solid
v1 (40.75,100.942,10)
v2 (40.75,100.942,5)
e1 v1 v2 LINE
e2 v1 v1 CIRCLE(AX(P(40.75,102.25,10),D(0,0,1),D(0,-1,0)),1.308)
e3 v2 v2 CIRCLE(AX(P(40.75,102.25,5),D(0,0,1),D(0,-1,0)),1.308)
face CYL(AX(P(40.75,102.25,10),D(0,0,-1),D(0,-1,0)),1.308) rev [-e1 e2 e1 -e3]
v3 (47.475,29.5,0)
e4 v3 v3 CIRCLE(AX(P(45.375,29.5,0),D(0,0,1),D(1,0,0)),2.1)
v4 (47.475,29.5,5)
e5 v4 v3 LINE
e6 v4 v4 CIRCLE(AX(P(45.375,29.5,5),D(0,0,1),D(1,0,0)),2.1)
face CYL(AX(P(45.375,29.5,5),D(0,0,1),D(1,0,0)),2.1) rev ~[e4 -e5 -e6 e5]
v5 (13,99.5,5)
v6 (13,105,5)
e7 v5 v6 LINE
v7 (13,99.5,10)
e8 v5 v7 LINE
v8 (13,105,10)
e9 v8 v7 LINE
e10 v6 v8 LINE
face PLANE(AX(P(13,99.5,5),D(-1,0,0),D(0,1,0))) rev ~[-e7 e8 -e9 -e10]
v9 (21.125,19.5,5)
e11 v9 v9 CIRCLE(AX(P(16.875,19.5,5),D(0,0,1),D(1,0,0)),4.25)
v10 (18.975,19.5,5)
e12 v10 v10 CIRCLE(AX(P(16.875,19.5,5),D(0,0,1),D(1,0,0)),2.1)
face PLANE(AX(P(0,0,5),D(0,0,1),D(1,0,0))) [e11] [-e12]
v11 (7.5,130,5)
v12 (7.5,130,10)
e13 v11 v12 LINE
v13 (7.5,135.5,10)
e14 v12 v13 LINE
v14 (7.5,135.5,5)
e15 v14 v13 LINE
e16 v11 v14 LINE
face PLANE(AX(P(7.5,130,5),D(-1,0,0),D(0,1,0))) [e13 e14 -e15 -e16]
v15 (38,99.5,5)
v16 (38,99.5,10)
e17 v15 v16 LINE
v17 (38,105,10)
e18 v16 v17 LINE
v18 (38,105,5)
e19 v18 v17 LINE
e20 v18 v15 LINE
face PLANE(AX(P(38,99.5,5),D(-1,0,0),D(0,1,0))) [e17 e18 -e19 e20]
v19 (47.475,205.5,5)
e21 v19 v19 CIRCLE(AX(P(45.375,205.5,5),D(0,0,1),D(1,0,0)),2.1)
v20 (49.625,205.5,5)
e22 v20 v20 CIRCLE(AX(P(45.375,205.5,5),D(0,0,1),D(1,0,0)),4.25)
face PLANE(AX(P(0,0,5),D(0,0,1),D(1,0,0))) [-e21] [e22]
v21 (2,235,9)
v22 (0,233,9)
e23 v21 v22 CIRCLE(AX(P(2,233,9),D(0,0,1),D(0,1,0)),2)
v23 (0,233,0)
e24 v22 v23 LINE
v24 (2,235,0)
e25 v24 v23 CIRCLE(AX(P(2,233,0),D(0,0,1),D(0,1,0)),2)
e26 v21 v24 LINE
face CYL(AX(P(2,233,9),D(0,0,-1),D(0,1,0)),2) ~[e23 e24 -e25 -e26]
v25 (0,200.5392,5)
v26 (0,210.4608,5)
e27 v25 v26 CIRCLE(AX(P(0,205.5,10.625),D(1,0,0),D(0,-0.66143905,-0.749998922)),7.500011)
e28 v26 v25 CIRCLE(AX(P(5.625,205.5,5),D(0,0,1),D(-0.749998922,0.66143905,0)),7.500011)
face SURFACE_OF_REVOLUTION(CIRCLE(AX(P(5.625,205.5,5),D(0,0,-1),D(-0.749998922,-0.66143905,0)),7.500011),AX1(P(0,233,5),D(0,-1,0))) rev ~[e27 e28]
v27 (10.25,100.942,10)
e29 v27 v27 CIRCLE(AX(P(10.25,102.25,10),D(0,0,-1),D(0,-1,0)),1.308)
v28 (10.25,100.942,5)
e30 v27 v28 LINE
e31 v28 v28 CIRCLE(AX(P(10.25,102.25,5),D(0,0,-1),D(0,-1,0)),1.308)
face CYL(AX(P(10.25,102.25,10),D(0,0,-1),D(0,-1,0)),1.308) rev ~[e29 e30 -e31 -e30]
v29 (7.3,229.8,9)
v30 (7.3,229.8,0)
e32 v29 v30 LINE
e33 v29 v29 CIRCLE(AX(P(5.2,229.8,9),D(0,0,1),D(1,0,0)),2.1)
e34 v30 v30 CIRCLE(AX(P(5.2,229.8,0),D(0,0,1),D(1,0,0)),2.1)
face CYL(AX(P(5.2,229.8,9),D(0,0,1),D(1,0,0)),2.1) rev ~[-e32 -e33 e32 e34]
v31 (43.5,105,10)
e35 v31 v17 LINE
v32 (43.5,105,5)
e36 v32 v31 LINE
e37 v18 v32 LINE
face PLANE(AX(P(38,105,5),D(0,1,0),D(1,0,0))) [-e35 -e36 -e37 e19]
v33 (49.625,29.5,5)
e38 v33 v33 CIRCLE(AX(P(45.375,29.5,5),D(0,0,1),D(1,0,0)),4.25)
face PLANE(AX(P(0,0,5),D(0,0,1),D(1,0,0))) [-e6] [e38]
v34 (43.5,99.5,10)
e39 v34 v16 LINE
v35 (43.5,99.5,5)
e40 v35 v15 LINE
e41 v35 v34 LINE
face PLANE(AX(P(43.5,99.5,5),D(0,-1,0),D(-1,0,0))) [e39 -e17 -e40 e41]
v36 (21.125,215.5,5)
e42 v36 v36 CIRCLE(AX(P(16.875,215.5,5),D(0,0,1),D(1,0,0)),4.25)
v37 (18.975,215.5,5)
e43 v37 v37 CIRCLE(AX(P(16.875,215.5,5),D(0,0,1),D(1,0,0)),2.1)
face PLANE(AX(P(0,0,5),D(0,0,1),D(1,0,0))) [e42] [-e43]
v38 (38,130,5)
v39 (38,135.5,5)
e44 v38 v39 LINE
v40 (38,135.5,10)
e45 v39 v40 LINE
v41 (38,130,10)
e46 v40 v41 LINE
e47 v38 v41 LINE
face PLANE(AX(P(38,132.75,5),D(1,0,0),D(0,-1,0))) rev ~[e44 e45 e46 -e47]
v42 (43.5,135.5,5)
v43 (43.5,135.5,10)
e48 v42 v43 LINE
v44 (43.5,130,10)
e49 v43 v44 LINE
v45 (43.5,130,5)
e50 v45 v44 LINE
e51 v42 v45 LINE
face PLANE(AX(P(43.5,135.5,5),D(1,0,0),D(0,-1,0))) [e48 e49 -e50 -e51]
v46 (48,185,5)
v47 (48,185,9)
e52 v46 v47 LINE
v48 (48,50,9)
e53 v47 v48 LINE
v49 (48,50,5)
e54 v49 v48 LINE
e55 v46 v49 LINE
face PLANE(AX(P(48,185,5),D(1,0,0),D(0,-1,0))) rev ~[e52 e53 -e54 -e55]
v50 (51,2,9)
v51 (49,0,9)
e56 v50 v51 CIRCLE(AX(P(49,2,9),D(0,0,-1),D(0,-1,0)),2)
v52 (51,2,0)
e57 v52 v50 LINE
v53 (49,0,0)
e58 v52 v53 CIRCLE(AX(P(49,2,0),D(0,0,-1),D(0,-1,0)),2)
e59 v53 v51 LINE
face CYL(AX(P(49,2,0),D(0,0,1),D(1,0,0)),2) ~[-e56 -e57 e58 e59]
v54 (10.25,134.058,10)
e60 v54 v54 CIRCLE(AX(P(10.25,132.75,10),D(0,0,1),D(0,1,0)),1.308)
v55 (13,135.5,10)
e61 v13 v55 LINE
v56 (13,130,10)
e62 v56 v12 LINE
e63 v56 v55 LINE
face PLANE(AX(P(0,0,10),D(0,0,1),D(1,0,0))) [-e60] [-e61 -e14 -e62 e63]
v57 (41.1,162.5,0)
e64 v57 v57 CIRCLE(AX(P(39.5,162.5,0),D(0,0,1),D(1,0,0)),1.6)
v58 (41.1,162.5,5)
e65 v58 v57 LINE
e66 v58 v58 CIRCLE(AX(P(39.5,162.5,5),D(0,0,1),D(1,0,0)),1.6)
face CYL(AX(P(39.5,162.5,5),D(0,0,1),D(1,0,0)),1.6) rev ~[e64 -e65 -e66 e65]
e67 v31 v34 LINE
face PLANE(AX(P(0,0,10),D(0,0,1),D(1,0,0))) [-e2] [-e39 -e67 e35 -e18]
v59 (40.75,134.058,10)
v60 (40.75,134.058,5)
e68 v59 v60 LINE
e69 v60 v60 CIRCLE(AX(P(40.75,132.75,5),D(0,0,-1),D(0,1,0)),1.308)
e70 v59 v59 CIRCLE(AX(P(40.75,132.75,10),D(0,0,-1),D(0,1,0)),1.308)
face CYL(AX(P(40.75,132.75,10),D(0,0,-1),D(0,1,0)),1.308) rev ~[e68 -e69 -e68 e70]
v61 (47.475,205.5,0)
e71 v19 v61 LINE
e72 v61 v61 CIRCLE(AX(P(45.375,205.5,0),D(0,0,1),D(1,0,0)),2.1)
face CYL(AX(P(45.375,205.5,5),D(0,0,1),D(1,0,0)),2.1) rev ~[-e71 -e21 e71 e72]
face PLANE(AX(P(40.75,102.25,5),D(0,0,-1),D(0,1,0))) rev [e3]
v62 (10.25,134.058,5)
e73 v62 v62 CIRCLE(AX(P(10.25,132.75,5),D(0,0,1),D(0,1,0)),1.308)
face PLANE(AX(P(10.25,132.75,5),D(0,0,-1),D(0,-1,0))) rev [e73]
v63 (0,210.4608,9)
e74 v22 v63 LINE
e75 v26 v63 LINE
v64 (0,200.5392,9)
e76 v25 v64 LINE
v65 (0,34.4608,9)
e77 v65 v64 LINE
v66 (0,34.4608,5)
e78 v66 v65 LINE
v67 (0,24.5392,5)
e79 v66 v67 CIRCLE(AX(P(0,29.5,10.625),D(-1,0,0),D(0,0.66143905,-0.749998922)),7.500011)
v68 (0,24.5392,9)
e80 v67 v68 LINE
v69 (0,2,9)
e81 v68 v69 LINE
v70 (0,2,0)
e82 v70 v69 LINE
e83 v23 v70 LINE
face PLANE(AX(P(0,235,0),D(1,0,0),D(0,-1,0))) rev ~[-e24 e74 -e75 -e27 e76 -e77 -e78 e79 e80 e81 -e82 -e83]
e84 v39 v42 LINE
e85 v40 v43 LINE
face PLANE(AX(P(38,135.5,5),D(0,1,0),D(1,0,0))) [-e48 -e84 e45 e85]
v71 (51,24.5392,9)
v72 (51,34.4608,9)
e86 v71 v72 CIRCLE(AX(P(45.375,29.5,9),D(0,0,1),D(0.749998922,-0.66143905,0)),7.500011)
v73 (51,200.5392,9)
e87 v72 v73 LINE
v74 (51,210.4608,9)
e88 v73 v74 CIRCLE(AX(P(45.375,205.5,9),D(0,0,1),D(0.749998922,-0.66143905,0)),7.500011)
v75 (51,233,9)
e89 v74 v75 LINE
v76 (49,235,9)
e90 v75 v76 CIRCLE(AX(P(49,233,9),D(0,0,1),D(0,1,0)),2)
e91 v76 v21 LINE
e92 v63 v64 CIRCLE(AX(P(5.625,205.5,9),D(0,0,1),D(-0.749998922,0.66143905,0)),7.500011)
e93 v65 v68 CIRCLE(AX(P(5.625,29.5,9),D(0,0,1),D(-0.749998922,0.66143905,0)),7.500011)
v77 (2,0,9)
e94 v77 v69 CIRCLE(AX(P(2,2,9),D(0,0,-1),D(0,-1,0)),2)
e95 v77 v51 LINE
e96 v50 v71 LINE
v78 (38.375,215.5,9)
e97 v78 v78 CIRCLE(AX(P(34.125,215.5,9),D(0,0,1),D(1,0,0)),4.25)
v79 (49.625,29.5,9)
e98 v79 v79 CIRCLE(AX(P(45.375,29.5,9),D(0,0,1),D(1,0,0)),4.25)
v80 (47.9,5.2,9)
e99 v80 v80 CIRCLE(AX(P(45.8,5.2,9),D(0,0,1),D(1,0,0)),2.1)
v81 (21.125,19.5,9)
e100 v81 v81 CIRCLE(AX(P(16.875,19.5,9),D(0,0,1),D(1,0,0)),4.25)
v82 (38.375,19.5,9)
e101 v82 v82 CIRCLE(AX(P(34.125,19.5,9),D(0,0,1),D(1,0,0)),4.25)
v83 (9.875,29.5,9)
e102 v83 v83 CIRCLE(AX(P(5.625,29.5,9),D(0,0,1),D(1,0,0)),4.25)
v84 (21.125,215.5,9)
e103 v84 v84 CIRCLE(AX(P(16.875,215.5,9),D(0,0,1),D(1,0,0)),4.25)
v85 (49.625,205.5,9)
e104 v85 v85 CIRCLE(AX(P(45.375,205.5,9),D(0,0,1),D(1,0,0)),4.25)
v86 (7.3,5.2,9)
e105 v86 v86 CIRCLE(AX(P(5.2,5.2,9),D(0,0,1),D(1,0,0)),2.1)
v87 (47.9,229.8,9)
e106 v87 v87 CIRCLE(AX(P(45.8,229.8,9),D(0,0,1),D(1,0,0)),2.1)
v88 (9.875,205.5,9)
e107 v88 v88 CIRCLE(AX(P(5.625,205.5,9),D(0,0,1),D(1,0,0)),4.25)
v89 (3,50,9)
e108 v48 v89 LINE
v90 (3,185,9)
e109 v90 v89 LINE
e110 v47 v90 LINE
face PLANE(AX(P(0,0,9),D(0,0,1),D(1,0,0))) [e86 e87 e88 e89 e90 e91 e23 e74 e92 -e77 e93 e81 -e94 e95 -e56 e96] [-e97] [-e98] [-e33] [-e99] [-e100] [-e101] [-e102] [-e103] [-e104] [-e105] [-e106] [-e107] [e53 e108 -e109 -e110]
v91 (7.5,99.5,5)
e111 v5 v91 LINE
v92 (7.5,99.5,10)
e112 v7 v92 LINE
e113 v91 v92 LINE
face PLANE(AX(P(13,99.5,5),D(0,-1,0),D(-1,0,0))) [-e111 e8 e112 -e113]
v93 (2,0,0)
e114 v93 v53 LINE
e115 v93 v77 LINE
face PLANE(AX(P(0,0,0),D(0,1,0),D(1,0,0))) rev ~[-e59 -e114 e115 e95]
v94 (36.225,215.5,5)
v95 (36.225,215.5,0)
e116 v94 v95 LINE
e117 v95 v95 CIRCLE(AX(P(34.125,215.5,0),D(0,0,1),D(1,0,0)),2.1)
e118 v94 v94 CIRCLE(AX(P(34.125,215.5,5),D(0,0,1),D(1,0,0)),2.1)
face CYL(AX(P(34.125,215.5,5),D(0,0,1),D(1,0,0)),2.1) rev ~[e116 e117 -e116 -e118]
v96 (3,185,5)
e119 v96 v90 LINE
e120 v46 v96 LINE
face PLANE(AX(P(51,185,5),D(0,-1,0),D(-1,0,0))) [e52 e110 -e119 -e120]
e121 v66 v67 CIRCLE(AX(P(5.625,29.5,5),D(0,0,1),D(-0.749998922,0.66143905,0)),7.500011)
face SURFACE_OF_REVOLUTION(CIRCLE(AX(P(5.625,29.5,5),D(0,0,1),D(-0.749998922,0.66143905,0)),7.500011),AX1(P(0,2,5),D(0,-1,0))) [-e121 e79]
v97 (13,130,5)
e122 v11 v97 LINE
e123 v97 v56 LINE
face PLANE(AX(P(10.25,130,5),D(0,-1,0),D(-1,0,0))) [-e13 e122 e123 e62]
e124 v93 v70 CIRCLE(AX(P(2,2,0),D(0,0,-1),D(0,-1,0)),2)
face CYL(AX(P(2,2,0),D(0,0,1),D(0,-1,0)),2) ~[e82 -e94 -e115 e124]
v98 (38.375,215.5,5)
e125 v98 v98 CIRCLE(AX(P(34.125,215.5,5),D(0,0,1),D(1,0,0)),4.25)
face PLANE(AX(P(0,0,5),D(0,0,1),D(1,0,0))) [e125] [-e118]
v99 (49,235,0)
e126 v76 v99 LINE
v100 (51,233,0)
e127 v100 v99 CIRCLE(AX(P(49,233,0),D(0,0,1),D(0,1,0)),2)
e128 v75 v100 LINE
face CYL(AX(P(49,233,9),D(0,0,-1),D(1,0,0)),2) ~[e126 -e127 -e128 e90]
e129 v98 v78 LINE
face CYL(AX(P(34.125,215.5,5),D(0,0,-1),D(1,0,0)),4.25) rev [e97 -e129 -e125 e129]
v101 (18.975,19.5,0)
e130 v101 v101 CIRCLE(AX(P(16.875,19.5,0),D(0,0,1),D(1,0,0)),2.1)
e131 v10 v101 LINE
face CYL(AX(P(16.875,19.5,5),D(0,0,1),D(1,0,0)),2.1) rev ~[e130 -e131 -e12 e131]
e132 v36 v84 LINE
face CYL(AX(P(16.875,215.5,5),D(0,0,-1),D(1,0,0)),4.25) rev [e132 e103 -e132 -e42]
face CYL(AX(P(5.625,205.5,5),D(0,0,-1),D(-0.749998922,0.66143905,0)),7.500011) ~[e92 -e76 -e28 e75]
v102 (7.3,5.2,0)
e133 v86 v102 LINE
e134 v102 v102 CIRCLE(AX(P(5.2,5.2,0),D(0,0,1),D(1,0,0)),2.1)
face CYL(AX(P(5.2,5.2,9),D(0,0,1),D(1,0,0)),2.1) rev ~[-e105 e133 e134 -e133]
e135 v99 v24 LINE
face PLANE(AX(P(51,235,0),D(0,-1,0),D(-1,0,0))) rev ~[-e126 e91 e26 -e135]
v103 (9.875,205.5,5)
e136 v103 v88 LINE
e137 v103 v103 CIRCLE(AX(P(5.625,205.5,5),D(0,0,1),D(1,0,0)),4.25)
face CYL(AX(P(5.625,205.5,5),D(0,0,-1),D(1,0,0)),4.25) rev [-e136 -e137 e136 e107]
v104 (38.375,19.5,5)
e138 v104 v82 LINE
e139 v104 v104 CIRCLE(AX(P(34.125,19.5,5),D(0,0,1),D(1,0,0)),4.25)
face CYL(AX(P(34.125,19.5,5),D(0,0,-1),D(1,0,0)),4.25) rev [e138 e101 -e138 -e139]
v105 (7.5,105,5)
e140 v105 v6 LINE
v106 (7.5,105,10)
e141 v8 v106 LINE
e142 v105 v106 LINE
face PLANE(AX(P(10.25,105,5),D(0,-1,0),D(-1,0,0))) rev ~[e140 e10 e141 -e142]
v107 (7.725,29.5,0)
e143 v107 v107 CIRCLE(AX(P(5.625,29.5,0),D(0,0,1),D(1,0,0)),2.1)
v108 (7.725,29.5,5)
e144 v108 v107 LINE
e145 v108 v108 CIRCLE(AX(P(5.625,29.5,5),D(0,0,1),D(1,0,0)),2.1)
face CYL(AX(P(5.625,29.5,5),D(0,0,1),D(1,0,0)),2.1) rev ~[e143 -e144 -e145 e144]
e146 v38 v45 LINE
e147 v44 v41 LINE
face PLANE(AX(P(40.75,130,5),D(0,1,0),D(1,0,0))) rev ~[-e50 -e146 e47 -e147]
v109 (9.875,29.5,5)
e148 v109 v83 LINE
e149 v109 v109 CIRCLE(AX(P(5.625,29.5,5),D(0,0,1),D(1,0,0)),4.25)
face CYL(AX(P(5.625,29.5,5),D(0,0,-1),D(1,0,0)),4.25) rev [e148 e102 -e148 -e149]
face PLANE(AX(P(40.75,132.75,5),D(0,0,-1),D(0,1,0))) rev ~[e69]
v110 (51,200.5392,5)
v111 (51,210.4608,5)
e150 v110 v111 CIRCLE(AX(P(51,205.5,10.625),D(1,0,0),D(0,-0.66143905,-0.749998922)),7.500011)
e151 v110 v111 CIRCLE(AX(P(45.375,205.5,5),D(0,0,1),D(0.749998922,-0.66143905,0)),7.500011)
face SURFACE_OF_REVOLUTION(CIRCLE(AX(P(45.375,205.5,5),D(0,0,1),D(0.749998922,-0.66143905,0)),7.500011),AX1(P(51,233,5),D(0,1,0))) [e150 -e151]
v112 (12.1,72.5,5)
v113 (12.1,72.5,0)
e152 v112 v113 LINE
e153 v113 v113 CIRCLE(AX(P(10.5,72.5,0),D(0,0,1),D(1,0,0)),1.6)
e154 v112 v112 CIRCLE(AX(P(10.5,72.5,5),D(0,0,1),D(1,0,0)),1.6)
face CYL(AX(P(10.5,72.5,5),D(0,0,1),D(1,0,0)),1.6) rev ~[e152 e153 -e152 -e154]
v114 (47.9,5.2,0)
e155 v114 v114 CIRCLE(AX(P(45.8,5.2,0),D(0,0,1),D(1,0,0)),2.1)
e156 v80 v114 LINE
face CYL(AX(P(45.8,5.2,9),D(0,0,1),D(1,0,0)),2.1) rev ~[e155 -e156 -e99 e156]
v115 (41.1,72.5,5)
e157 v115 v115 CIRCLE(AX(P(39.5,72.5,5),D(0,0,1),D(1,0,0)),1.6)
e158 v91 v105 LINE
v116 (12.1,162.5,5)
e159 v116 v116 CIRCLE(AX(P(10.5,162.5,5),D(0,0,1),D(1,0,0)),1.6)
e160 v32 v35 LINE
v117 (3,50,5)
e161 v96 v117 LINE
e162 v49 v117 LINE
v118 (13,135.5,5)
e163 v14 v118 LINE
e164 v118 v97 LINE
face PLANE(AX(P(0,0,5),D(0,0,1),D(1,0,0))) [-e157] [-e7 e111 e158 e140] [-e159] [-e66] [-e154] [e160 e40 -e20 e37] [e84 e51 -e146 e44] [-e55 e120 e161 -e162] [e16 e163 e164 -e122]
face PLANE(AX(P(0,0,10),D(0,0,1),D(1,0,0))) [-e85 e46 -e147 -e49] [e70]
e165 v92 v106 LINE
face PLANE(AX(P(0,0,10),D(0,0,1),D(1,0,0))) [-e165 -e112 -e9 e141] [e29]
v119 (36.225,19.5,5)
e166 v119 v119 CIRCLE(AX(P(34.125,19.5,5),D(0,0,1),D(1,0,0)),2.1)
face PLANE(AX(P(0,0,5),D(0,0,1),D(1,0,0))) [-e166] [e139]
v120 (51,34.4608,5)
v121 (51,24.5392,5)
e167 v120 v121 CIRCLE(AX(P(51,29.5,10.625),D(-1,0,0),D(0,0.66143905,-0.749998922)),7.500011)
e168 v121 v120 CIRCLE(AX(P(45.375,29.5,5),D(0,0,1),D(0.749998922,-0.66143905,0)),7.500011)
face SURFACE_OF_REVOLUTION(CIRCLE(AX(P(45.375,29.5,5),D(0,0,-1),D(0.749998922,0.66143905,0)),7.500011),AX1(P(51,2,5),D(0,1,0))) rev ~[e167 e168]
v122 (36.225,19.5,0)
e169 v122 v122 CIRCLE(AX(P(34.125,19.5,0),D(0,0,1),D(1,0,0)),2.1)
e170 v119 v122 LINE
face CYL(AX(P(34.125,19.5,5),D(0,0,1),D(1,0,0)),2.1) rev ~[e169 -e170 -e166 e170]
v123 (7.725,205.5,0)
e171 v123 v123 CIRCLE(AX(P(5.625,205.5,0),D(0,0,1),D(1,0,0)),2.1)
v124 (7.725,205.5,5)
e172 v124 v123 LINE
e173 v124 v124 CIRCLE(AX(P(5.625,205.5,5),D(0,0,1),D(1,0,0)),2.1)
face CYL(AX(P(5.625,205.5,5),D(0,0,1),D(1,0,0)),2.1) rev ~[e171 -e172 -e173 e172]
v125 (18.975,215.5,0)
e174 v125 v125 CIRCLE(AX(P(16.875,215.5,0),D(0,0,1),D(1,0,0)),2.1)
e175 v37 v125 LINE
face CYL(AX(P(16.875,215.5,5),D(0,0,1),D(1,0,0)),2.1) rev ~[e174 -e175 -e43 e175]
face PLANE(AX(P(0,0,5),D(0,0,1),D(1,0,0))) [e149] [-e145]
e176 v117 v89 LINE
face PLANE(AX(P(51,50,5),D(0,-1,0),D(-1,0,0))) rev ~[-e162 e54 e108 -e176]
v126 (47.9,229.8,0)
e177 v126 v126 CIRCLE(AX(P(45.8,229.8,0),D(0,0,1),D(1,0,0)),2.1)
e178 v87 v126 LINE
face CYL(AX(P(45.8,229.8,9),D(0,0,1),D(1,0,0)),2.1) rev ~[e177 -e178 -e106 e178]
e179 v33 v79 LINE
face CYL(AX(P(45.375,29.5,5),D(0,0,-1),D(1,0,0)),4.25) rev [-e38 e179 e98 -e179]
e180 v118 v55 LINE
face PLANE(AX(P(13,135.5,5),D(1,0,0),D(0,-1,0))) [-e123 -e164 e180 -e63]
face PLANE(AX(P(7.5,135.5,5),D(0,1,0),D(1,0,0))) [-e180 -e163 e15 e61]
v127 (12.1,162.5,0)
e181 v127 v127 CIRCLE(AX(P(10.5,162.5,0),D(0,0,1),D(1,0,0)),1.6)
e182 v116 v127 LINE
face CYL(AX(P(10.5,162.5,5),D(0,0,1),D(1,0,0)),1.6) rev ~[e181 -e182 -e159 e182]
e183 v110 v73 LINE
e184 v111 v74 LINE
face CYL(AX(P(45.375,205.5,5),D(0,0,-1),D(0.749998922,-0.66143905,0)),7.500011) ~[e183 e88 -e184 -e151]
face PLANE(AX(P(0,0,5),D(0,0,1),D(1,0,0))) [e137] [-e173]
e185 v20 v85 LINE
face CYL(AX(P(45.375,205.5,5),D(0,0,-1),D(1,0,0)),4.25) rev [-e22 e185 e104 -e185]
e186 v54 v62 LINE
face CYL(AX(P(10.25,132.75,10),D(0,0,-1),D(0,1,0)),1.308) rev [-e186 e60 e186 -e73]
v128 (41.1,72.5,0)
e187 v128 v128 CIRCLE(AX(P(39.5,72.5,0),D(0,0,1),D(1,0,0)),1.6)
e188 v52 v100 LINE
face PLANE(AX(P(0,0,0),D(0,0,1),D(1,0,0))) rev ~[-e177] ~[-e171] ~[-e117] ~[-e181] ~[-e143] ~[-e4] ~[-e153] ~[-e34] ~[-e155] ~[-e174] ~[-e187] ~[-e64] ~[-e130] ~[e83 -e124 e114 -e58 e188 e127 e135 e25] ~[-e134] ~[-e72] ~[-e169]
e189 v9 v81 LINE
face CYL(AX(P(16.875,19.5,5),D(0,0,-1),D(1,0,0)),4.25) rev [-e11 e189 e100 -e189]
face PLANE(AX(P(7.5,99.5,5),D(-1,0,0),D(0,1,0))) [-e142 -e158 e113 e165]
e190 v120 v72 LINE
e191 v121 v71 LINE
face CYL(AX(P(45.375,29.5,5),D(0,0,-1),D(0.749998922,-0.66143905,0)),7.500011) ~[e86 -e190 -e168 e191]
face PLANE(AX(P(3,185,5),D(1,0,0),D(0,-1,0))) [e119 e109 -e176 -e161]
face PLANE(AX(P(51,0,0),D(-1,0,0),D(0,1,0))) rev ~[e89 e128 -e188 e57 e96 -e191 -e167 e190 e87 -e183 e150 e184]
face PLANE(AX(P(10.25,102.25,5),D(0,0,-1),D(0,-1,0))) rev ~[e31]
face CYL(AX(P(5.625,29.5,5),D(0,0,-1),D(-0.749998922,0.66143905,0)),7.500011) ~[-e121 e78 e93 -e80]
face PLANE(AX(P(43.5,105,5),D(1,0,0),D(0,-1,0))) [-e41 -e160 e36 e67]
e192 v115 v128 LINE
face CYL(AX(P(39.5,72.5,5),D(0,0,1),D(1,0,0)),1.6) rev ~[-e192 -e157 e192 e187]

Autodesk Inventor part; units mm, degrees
ref_plane "YZ Plane" through (0, 0, 0) normal (1, 0, 0) x (0, 1, 0)
sketch "Sketch1" plane through (0, 0, 0) normal (0, 0, 1) x (1, 0, 0)
  line L0 (0, 0) -> (51, 0)
  line L1 (51, 0) -> (51, 235)
  line L2 (51, 235) -> (0, 235)
  line L3 (0, 235) -> (0, 0)
  dimension "d0" = 51
  dimension "d1" = 235
extrude "Extrusion1" add sketch "Sketch1" along normal blind 5
sketch "Sketch3" plane through (0, 0, 5) normal (0, 0, 1) x (1, 0, 0)
  line L0 (0, 0) -> (51, 0) projected
  line L1 (25.5, 0) -> (25.5, 235)
  line L2 (51, 235) -> (0, 235) projected
  line L3 (0, 235) -> (0, 0) projected
  line L4 (0, 117.5) -> (51, 117.5)
  line L5 (51, 0) -> (51, 235) projected
ref_plane "Work Plane1" through (25.5, 0, 5) normal (-1, 0, 0) x (0, 1, 0)
ref_plane "Work Plane2" through (0, 117.5, 5) normal (0, 1, 0) x (1, 0, 0)
sketch "Sketch4" plane through (0, 0, 5) normal (0, 0, 1) x (1, 0, 0)
  circle A0 centre (5.625, 29.5) radius 2.1
  circle A1 centre (16.875, 19.5) radius 2.1
  circle A2 centre (45.375, 29.5) radius 2.1
  circle A3 centre (34.125, 19.5) radius 2.1
  circle A4 centre (5.625, 205.5) radius 2.1
  circle A5 centre (45.375, 205.5) radius 2.1
  circle A6 centre (34.125, 215.5) radius 2.1
  circle A7 centre (16.875, 215.5) radius 2.1
  point P0 (0, 0)
  dimension "d10" = 4.2
  dimension "d11" = 4.2
  dimension "d12" = 4.2
  dimension "d13" = 4.2
  dimension "d14" = 4.2
  dimension "d15" = 4.2
  dimension "d16" = 4.2
  dimension "d17" = 4.2
sketch "Sketch8" plane through (0, 0, 5) normal (0, 0, 1) x (1, 0, 0)
  line L0 (0, 0) -> (51, 0) projected
  line L1 (25.5, 0) -> (25.5, 235)
  line L2 (51, 235) -> (0, 235) projected
  line L3 (0, 235) -> (0, 0) projected
  line L4 (0, 117.5) -> (51, 117.5)
  line L5 (51, 0) -> (51, 235) projected
  line L6 (43.5, 99.5) -> (7.5, 99.5)
  line L7 (7.5, 99.5) -> (7.5, 135.5)
  line L8 (7.5, 135.5) -> (43.5, 135.5)
  line L9 (43.5, 135.5) -> (43.5, 99.5)
  line L10 (43.5, 99.5) -> (7.5, 135.5) construction
  line L11 (7.5, 99.5) -> (43.5, 135.5) construction
  line L12 (40.75, 102.25) -> (10.25, 102.25)
  line L13 (10.25, 102.25) -> (10.25, 132.75)
  line L14 (10.25, 132.75) -> (40.75, 132.75)
  line L15 (40.75, 132.75) -> (40.75, 102.25)
  line L16 (40.75, 102.25) -> (10.25, 132.75) construction
  line L17 (10.25, 102.25) -> (40.75, 132.75) construction
  line L18 (13, 105) -> (7.5, 105)
  line L19 (7.5, 105) -> (7.5, 99.5)
  line L20 (7.5, 99.5) -> (13, 99.5)
  line L21 (13, 99.5) -> (13, 105)
  line L22 (13, 105) -> (7.5, 99.5) construction
  line L23 (7.5, 105) -> (13, 99.5) construction
  line L24 (13, 130) -> (7.5, 130)
  line L25 (7.5, 130) -> (7.5, 135.5)
  line L26 (7.5, 135.5) -> (13, 135.5)
  line L27 (13, 135.5) -> (13, 130)
  line L28 (13, 130) -> (7.5, 135.5) construction
  line L29 (7.5, 130) -> (13, 135.5) construction
  line L30 (38, 105) -> (43.5, 105)
  line L31 (43.5, 105) -> (43.5, 99.5)
  line L32 (43.5, 99.5) -> (38, 99.5)
  line L33 (38, 99.5) -> (38, 105)
  line L34 (38, 105) -> (43.5, 99.5) construction
  line L35 (43.5, 105) -> (38, 99.5) construction
  line L36 (38, 130) -> (43.5, 130)
  line L37 (43.5, 130) -> (43.5, 135.5)
  line L38 (43.5, 135.5) -> (38, 135.5)
  line L39 (38, 135.5) -> (38, 130)
  line L40 (38, 130) -> (43.5, 135.5) construction
  line L41 (43.5, 130) -> (38, 135.5) construction
  point P0 (25.5, 117.5)
  dimension "d36" = 36
  dimension "d37" = 36
  dimension "d38" = 30.5
  dimension "d39" = 30.5
extrude "Extrusion8" add sketch "Sketch8" along normal blind 5 contours L33 L12 L15 L30 L9 L6 | L6 L7 L18 L13 L12 L21 | L7 L8 L27 L14 L13 L24 | L33 L30 L15 L12 | L12 L13 L18 L21 | L13 L14 L27 L24 | L36 L15 L14 L39 L8 L9 | L36 L39 L14 L15
sketch "Sketch9" plane through (0, 0, 10) normal (0, 0, 1) x (1, 0, 0)
  line L0 (7.5, 99.5) -> (13, 99.5) projected
  line L1 (10.25, 99.5) -> (10.25, 105)
  line L2 (13, 105) -> (7.5, 105) projected
  line L3 (13, 99.5) -> (13, 105) projected
  line L4 (13, 102.25) -> (7.5, 102.25)
  line L5 (7.5, 99.5) -> (7.5, 105) projected
  point P0 (0, 0)
  point P1 (10.25, 102.25)
hole "Hole1" at (10.25, 102.25, 10) direction (0, 0, -1) diameter 2.616 depth 5
sketch "Sketch10" plane through (0, 0, 5) normal (0, 0, 1) x (1, 0, 0)
  line L0 (0, 0) -> (51, 0) projected
  line L1 (25.5, 0) -> (25.5, 235)
  line L2 (51, 235) -> (0, 235) projected
  line L3 (0, 235) -> (0, 0) projected
  line L4 (0, 117.5) -> (51, 117.5)
  line L5 (51, 0) -> (51, 235) projected
  point P0 (0, 185)
  point P1 (0, 50)
  point P2 (51, 50)
  point P3 (51, 185)
sketch "Sketch11" plane through (0, 0, 5) normal (0, 0, 1) x (1, 0, 0)
  point P0 (0, 0)
sketch "Sketch12" plane through (0, 0, 5) normal (0, 0, 1) x (1, 0, 0)
  line L0 (51, 50) -> (0, 50) projected
  line L1 (0, 185) -> (3, 185)
  line L2 (3, 185) -> (3, 50)
  line L3 (3, 50) -> (0, 50)
  line L4 (0, 50) -> (0, 185)
  line L5 (51, 185) -> (48, 185)
  line L6 (48, 185) -> (48, 50)
  line L7 (48, 50) -> (51, 50)
  line L8 (51, 50) -> (51, 185)
  point P0 (0, 0)
  dimension "d51" = 3
  dimension "d52" = 3
extrude "Extrusion9" add sketch "Sketch12" along normal blind 4
mirror "Mirror5" about plane through (25.5, 0, 5) normal (-1, 0, 0) of "Hole1"
mirror "Mirror6" about plane through (0, 117.5, 5) normal (0, 1, 0) of "Hole1", "Mirror5"
sketch "Sketch15" plane through (0, 0, 5) normal (0, 0, 1) x (1, 0, 0)
  circle A0 centre (45.375, 29.5) radius 4.25
  circle A1 centre (34.125, 19.5) radius 4.25
  circle A2 centre (16.875, 19.5) radius 4.25
  circle A3 centre (5.625, 29.5) radius 4.25
  circle A4 centre (5.625, 205.5) radius 4.25
  circle A5 centre (16.875, 215.5) radius 4.25
  circle A6 centre (34.125, 215.5) radius 4.25
  circle A7 centre (45.375, 205.5) radius 4.25
  line L0 (51, 0) -> (51, 50) projected
  line L1 (0, 0) -> (51, 0) projected
  circle A8 centre (45.375, 29.5) radius 2.1
  circle A9 centre (34.125, 19.5) radius 2.1
  line L2 (0, 50) -> (0, 0) projected
  line L3 (0, 235) -> (0, 185) projected
  line L4 (51, 235) -> (0, 235) projected
  line L5 (51, 185) -> (51, 235) projected
  circle A10 centre (5.625, 205.5) radius 2.1
  circle A11 centre (16.875, 215.5) radius 2.1
  circle A12 centre (34.125, 215.5) radius 2.1
  circle A13 centre (45.375, 205.5) radius 2.1
  line L6 (0, 0) -> (51, 0)
  line L7 (51, 50) -> (0, 50)
  line L8 (0, 235) -> (51, 235)
  line L9 (51, 185) -> (0, 185)
  arc A14 (51, 24.5392) -> (51, 34.4608) centre (45.375, 29.5) ccw
  arc A15 (0, 34.4608) -> (0, 24.5392) centre (5.625, 29.5) ccw
  arc A16 (0, 210.4608) -> (0, 200.5392) centre (5.625, 205.5) ccw
  arc A17 (51, 200.5392) -> (51, 210.4608) centre (45.375, 205.5) ccw
  line L10 (0, 50) -> (0, 34.4608)
  line L11 (0, 24.5392) -> (0, 0)
  line L12 (51, 0) -> (51, 24.5392)
  line L13 (51, 34.4608) -> (51, 50)
  line L14 (0, 185) -> (0, 200.5392)
  line L15 (0, 210.4608) -> (0, 235)
  line L16 (51, 235) -> (51, 210.4608)
  line L17 (51, 200.5392) -> (51, 185)
  dimension "d78" = 8.5
  dimension "d79" = 8.5
  dimension "d80" = 8.5
  dimension "d81" = 8.5
  dimension "d82" = 8.5
  dimension "d83" = 8.5
  dimension "d84" = 8.5
  dimension "d85" = 8.5
  dimension "d86" = 5.625
  dimension "d87" = 29.5
  dimension "d88" = 19.5
  dimension "d89" = 16.875
  dimension "d90" = 4.2
  dimension "d91" = 4.2
  dimension "d92" = 19.5
  dimension "d93" = 16.875
  dimension "d94" = 5.625
  dimension "d95" = 29.5
  dimension "d96" = 5.625
  dimension "d97" = 29.5
  dimension "d98" = 19.5
  dimension "d99" = 16.875
  dimension "d100" = 19.5
  dimension "d101" = 16.875
  dimension "d102" = 5.625
  dimension "d103" = 29.5
  dimension "d104" = 4.2
  dimension "d105" = 4.2
  dimension "d106" = 4.2
  dimension "d107" = 4.2
  dimension "d108" = 15
  dimension "d109" = 15
  dimension "d110" = 15
  dimension "d111" = 15
extrude "Extrusion11" add sketch "Sketch15" along normal blind 4 contours L1 L2 L7 L0 | L0 A14 | A15 L2 | L4 L5 L9 L3 | L3 A16 | A17 L5
sketch "Sketch16" plane through (5.625, 29.5, 5) normal (0, 0, 1) x (1, 0, 0)
  circle A0 centre (11.25, -10) radius 2.1
  circle A1 centre (0, 0) radius 2.1
  circle A2 centre (28.5, -10) radius 2.1
  circle A3 centre (39.75, 0) radius 2.1
  circle A4 centre (39.75, 176) radius 2.1
  circle A5 centre (28.5, 186) radius 2.1
  circle A6 centre (11.25, 186) radius 2.1
  circle A7 centre (0, 176) radius 2.1
  line L0 (-5.625, -4.9608) -> (-5.625, -29.5) projected
  line L1 (-5.625, -29.5) -> (45.375, -29.5) projected
  line L2 (45.375, -29.5) -> (45.375, -4.9608) projected
  line L3 (45.375, 4.9608) -> (45.375, 20.5) projected
  line L4 (-5.625, 205.5) -> (-5.625, 180.9608) projected
  line L5 (45.375, 205.5) -> (-5.625, 205.5) projected
  line L6 (45.375, 180.9608) -> (45.375, 205.5) projected
  dimension "d115" = 4.2
  dimension "d116" = 4.2
  dimension "d117" = 4.2
  dimension "d118" = 4.2
  dimension "d119" = 5.625
  dimension "d120" = 29.5
  dimension "d121" = 19.5
  dimension "d122" = 34.125
  dimension "d123" = 19.5
  dimension "d124" = 16.875
  dimension "d125" = 4.2
  dimension "d126" = 4.2
  dimension "d127" = 5.625
  dimension "d128" = 29.5
  dimension "d129" = 4.2
  dimension "d130" = 4.2
  dimension "d131" = 5.625
  dimension "d132" = 29.5
  dimension "d133" = 19.5
  dimension "d134" = 34.125
  dimension "d135" = 19.5
  dimension "d136" = 16.875
  dimension "d137" = 5.625
  dimension "d138" = 29.5
extrude "Extrusion12" cut sketch "Sketch16" against normal blind 5
ref_plane "Work Plane5" through (0, 235, 5) normal (0.7071, 0, -0.7071) x (0, -1, 0)
sketch "Sketch18" plane through (0, 235, 5) normal (0.7071, 0, -0.7071) x (0, -1, 0)
  ellipse E0 centre (29.5, -3.9775) end of major axis (37, -3.9775) minor radius 5.3033 (34.4608, 0) -> (24.5392, 0) ccw projected
  line L0 (34.4608, 0) -> (24.5392, 0)
  point P0 (235, 3.5355)
sketch "Sketch19" plane through (0, 0, 5) normal (0, 0, -1) x (-1, 0, 0)
  line L0 (0, 233) -> (0, 2) projected
  arc A0 (0, 200.5392) -> (0, 210.4608) centre (-5.625, 205.5) ccw projected
  arc A1 (0, 200.5392) -> (0, 210.4608) centre (-5.625, 205.5) ccw
  line L1 (0, 210.4608) -> (0, 200.5392)
  line L2 (0, 235) -> (0, 0) projected
revolve "Revolution1" add sketch "Sketch19" angle 90 about axis through (0, 233, 5) along (0, -1, 0)
mirror "Mirror7" about plane through (0, 117.5, 5) normal (0, 1, 0) of "Revolution1"
mirror "Mirror8" about plane through (25.5, 0, 5) normal (-1, 0, 0) of "Revolution1", "Mirror7"
sketch "Sketch20" plane through (0, 0, 5) normal (0, 0, 1) x (1, 0, 0)
  circle A0 centre (10.5, 72.5) radius 1.6 projected
  circle A1 centre (39.5, 72.5) radius 1.6 projected
  circle A2 centre (10.5, 162.5) radius 1.6 projected
  circle A3 centre (39.5, 162.5) radius 1.6 projected
  point P0 (0, 0)
extrude "Extrusion13" cut sketch "Sketch20" against normal blind 5
sketch "Sketch21" plane through (0, 0, 9) normal (0, 0, 1) x (1, 0, 0)
  circle A0 centre (5.2, 5.2) radius 2.1
  line L0 (0, 0) -> (51, 0) projected
  line L1 (0, 24.5392) -> (0, 0) projected
  line L2 (25.5, 0) -> (25.5, 235) projected
  line L3 (0, 117.5) -> (51, 117.5) projected
  circle A1 centre (45.8, 5.2) radius 2.1
  circle A2 centre (5.2, 229.8) radius 2.1
  circle A3 centre (45.8, 229.8) radius 2.1
  dimension "d150" = 4.2
  dimension "d153" = 5.2
  dimension "d154" = 5.2
extrude "Extrusion14" cut sketch "Sketch21" against normal blind 9
fillet "Fillet3" radius 2 4 edges at (0, 0, 4.5) (51, 0, 4.5) (0, 235, 4.5) (51, 235, 4.5)
properties part number "Component plate" material "ABS Plastic"
